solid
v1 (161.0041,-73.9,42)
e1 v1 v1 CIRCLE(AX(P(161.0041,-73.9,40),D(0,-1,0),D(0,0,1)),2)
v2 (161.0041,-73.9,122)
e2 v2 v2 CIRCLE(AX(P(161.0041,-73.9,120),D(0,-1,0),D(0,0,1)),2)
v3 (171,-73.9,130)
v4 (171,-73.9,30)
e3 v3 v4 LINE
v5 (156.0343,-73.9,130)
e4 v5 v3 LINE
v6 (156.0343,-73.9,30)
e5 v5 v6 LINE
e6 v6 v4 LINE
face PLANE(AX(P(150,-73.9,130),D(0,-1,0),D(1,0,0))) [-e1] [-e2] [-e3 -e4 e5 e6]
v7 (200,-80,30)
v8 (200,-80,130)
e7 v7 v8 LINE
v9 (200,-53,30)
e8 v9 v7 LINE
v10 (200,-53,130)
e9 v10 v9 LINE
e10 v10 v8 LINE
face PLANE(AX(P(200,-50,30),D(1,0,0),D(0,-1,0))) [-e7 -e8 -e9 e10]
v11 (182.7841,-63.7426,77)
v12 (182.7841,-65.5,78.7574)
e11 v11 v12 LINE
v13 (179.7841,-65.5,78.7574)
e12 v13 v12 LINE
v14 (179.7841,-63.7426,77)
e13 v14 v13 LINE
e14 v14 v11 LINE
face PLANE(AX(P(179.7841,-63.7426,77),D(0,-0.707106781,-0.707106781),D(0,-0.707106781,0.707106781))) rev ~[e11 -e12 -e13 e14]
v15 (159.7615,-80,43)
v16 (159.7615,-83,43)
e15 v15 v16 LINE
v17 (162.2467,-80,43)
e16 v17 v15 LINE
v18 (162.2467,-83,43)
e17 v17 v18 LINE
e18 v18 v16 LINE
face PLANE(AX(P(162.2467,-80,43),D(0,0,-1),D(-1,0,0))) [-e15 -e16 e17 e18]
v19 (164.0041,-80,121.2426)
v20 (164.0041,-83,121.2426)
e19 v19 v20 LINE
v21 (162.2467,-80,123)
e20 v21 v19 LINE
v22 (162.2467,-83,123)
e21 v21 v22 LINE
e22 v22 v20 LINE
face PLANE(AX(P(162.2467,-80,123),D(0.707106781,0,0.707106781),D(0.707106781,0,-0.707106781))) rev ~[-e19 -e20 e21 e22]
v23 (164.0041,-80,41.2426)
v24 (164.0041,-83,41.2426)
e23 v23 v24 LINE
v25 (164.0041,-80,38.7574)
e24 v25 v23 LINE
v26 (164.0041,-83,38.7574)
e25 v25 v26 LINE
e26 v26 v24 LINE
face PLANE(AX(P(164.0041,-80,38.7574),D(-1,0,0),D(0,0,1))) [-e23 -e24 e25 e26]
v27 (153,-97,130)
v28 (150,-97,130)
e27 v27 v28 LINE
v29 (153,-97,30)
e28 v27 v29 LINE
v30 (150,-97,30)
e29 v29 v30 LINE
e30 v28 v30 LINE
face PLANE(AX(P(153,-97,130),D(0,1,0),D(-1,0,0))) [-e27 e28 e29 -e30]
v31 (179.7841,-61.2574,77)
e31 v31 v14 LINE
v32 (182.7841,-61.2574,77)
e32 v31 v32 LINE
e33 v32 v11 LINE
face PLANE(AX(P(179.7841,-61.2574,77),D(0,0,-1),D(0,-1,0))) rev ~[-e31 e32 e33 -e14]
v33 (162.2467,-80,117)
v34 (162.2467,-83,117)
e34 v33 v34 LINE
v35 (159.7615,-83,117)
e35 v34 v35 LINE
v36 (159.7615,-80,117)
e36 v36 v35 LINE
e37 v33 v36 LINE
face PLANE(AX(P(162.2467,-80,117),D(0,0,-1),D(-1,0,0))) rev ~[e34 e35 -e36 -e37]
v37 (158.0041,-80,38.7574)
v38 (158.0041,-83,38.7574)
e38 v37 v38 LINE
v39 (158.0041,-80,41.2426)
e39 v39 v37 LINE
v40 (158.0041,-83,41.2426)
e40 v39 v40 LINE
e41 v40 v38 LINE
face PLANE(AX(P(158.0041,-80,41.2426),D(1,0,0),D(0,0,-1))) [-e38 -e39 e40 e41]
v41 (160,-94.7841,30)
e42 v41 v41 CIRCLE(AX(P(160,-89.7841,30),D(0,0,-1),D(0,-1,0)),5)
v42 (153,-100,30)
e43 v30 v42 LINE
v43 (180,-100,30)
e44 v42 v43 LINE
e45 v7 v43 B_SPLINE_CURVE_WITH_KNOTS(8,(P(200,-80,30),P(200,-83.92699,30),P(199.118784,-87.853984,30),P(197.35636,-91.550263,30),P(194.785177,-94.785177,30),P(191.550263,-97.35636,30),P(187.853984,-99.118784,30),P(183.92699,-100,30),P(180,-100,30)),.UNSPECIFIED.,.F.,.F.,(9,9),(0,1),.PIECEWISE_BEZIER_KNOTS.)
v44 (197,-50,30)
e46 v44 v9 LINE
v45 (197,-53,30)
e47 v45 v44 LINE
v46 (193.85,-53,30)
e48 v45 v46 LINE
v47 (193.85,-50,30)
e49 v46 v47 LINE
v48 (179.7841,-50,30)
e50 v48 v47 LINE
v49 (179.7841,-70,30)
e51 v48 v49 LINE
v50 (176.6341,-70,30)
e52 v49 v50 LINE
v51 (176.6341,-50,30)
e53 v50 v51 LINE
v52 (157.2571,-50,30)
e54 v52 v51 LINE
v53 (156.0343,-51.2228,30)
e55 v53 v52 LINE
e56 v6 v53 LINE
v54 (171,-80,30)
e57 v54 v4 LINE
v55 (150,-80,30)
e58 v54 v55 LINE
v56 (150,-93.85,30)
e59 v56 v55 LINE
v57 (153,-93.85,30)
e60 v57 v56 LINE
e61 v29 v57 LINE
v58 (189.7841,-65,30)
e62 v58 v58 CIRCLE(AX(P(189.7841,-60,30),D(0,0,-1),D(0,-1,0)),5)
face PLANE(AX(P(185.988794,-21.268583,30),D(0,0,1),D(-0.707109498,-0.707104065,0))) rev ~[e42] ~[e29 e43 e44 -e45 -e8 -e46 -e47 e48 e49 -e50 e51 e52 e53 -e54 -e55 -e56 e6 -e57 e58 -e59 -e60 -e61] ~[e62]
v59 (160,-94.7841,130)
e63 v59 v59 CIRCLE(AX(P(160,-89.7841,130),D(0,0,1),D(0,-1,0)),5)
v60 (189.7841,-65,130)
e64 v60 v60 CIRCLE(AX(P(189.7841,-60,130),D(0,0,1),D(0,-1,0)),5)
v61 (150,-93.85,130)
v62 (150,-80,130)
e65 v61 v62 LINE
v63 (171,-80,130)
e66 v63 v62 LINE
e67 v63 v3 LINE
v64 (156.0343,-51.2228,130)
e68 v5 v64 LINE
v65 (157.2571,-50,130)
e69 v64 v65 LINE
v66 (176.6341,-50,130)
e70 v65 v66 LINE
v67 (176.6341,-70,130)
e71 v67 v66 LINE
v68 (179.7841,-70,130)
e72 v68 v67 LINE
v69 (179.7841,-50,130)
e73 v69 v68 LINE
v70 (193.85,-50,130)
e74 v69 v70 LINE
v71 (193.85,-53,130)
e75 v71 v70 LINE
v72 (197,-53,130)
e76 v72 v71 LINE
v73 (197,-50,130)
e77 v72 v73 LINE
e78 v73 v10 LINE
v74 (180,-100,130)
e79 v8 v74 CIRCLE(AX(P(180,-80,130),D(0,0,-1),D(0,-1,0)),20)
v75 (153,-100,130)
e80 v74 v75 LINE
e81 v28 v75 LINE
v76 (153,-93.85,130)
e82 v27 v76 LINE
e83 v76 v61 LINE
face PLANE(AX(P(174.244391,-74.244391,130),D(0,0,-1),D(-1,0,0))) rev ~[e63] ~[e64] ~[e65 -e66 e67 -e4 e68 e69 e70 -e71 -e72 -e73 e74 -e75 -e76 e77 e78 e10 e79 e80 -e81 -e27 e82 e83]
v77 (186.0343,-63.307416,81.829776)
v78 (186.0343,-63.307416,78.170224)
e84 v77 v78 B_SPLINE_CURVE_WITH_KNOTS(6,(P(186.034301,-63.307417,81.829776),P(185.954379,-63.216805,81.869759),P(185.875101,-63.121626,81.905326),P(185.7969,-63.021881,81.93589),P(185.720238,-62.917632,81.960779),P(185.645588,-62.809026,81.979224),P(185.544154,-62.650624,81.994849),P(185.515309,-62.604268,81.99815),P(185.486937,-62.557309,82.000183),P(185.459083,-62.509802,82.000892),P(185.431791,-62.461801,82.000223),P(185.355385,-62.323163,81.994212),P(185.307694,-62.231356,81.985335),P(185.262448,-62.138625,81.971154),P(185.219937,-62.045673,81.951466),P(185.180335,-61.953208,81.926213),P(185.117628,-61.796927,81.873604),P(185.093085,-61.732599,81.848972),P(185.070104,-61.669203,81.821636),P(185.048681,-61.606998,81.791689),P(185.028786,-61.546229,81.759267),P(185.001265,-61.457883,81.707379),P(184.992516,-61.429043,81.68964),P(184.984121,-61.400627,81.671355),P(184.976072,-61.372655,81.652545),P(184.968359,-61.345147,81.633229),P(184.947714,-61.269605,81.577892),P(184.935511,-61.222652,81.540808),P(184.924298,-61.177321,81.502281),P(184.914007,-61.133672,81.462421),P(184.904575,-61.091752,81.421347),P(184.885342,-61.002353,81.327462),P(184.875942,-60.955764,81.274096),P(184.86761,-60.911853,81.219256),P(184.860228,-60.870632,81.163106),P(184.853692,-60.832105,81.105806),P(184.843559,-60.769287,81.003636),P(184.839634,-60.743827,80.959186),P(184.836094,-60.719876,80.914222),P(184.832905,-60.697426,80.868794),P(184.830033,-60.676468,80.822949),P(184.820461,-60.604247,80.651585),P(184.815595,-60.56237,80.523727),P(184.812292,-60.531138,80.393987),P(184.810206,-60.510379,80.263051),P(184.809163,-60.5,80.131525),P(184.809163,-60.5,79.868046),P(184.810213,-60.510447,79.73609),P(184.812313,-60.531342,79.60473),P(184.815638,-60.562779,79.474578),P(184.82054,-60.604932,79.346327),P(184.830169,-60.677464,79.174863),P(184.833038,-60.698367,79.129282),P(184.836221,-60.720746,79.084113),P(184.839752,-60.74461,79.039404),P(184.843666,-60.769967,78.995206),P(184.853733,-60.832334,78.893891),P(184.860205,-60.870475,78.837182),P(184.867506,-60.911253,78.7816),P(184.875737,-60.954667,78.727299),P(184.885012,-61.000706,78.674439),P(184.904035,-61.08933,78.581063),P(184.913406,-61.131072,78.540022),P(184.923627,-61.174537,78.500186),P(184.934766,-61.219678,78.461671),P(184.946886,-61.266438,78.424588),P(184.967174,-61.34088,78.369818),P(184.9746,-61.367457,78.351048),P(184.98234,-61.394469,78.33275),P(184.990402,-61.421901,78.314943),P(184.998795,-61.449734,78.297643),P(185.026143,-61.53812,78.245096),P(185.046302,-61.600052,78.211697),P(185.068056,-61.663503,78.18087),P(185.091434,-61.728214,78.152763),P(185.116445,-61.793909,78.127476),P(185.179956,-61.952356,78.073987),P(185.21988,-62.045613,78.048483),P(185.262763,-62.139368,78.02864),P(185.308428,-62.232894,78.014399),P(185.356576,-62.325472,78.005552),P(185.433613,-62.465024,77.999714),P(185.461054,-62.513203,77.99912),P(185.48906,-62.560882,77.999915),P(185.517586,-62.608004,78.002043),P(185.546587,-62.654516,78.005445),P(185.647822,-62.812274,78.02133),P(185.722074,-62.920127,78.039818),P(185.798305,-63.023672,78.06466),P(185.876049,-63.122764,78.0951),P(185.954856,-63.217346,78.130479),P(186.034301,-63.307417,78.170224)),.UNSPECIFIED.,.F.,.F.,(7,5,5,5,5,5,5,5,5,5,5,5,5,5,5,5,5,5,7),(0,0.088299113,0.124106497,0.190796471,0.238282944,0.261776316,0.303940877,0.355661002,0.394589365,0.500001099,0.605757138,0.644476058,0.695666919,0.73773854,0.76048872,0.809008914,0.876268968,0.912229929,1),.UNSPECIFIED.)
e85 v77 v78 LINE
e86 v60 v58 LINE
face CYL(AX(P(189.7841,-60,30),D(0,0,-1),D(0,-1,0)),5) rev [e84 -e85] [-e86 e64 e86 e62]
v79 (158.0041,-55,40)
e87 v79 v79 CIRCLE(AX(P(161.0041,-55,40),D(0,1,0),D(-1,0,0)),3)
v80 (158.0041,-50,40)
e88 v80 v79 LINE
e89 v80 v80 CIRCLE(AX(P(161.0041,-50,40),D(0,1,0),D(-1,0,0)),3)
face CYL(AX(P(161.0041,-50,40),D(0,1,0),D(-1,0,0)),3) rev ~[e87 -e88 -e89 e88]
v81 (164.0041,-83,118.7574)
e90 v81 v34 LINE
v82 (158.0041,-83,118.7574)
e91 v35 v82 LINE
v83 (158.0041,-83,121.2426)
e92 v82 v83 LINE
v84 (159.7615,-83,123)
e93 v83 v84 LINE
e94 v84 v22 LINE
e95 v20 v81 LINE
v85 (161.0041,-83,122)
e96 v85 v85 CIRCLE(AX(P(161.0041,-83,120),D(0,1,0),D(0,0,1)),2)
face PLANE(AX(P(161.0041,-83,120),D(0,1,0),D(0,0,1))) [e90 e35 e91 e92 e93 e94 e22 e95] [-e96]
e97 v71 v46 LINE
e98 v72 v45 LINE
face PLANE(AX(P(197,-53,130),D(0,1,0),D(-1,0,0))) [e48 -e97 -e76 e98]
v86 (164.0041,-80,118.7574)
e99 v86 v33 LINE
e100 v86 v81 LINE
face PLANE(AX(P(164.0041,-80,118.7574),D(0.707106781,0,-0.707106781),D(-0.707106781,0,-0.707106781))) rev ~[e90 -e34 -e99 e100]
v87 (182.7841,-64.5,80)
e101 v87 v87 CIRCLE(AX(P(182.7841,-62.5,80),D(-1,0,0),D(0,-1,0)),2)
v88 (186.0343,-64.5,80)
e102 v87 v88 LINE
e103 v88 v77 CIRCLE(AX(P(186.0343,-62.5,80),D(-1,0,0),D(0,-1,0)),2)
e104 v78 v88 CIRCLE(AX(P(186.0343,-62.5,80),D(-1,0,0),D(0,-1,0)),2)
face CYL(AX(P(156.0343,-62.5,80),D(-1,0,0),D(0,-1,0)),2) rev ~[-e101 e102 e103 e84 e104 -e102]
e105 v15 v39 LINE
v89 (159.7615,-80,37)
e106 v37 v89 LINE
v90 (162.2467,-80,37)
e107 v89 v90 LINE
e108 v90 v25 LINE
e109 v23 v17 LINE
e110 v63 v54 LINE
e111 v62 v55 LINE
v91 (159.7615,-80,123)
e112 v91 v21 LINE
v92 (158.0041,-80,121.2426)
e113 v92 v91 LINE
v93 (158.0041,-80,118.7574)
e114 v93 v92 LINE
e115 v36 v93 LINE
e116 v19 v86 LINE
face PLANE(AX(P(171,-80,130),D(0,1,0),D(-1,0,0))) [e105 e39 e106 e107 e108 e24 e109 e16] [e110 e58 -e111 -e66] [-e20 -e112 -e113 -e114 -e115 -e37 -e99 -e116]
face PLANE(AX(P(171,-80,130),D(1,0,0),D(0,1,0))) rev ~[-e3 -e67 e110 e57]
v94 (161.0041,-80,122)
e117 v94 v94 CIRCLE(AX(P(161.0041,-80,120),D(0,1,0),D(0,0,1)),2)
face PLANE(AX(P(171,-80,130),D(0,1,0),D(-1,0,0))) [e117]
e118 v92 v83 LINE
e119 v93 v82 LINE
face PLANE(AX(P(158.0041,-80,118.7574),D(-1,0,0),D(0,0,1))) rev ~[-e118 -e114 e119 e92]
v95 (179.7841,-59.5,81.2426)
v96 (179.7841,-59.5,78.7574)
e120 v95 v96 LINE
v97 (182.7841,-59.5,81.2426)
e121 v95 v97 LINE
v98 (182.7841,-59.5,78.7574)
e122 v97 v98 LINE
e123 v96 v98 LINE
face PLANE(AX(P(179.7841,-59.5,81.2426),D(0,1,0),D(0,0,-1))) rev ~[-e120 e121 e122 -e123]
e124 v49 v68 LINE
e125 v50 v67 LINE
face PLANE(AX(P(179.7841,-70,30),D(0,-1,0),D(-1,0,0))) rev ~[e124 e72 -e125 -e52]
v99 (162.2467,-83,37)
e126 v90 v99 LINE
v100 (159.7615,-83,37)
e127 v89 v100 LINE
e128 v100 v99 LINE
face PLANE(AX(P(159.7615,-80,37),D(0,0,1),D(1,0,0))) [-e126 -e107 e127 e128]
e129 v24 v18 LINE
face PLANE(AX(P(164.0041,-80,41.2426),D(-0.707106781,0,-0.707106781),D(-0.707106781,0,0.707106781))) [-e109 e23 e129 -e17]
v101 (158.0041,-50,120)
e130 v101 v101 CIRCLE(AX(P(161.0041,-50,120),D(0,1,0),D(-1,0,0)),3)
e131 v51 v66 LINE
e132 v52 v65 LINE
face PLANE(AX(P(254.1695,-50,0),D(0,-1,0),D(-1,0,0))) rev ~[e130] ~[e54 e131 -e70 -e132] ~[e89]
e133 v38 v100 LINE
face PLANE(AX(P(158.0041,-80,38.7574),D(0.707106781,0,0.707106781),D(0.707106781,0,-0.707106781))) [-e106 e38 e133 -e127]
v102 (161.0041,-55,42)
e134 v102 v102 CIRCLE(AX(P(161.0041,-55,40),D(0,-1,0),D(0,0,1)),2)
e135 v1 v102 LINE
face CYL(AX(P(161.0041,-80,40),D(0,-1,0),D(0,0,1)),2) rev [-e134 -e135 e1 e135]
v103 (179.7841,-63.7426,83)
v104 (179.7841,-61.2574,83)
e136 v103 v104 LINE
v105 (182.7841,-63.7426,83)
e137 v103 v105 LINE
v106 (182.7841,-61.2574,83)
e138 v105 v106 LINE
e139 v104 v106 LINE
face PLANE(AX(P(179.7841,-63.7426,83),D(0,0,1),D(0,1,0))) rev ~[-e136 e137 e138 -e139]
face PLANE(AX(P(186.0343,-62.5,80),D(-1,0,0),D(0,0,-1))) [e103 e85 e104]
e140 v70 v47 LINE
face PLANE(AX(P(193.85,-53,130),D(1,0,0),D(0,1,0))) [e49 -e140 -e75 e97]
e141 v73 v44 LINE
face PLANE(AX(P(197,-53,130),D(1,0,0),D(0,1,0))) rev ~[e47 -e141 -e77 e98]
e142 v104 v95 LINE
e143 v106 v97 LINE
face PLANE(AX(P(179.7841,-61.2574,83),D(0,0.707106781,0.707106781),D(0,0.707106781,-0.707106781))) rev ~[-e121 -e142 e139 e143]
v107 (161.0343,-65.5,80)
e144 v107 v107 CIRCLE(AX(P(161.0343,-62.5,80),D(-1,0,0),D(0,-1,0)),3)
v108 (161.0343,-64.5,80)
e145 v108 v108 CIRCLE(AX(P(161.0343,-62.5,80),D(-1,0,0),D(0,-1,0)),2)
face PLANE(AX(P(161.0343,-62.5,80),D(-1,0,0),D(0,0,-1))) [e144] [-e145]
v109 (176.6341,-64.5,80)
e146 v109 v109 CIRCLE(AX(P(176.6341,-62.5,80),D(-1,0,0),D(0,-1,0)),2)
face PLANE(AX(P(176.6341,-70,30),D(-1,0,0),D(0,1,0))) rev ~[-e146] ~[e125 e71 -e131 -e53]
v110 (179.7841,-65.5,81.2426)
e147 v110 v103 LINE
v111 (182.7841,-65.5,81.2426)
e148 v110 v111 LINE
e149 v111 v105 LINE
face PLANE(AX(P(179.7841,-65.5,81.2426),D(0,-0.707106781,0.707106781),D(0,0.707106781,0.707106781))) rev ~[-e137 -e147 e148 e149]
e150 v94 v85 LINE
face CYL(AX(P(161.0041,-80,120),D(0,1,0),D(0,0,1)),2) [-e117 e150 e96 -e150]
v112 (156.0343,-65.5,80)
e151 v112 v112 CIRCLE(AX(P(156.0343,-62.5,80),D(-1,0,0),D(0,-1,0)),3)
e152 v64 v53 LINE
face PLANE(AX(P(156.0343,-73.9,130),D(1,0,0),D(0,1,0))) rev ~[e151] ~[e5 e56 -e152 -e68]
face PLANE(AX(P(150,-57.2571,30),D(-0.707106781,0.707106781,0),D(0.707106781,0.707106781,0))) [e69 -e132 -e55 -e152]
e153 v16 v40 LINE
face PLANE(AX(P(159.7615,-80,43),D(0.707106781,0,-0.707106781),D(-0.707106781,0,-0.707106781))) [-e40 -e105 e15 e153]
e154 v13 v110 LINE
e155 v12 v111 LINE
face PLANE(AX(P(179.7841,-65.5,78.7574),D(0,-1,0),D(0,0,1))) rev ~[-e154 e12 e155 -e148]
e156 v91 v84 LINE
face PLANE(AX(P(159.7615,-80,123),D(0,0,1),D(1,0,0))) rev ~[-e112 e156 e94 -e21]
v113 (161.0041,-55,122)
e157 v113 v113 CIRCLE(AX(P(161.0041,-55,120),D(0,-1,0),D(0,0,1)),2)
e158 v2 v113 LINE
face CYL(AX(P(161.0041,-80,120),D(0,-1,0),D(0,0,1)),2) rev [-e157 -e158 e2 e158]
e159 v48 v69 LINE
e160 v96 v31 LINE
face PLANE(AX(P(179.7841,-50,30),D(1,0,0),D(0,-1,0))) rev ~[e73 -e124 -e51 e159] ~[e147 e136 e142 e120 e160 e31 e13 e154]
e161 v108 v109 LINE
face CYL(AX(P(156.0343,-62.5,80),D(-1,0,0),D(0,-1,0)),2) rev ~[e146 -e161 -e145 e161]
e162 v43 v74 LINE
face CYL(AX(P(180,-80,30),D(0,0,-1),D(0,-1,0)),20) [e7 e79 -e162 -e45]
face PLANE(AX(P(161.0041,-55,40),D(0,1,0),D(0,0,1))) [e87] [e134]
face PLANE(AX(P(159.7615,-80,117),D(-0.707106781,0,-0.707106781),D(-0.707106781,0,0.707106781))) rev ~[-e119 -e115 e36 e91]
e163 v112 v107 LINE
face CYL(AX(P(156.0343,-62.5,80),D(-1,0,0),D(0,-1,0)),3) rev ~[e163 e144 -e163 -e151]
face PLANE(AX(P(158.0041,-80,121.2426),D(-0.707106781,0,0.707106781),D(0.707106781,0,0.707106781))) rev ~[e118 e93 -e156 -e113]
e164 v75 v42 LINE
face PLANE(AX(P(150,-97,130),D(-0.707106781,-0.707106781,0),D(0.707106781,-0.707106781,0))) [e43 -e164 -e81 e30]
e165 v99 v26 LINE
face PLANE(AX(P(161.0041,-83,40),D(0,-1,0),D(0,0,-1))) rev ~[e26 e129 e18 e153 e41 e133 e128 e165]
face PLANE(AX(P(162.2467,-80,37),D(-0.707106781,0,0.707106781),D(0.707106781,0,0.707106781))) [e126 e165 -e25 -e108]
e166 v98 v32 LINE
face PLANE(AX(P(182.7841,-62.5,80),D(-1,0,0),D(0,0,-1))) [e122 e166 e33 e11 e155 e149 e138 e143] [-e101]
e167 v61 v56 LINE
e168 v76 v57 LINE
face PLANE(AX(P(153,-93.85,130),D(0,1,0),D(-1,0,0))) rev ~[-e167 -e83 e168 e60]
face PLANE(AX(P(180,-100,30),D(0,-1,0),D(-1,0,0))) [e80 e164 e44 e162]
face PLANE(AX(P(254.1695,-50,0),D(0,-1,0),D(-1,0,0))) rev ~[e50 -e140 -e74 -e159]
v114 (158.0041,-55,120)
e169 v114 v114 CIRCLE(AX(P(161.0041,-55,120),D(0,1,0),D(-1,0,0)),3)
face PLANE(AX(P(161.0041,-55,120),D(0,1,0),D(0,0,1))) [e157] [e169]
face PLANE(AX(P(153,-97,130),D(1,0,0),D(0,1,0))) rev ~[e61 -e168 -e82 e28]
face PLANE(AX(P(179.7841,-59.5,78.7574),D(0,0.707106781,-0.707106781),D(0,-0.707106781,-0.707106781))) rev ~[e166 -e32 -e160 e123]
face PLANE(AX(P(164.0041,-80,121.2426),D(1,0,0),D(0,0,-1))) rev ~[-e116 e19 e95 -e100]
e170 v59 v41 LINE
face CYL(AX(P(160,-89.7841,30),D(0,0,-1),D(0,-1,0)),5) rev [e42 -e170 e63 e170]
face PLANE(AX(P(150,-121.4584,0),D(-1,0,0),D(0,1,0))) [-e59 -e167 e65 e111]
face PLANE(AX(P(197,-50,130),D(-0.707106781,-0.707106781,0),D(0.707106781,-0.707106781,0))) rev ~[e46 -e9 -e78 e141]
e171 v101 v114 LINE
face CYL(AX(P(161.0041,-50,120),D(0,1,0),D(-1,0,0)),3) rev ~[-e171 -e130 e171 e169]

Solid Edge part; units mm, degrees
sketch "Sketch1" plane through (0, 0, 0) normal (0, 0, -1) x (-1, 0, 0)
  line L0 (-200, -100) -> (200, -100)
  line L1 (200, -100) -> (200, 100)
  line L2 (200, 100) -> (-200, 100)
  line L3 (-200, 100) -> (-200, -100)
  dimension "D1" = 400
  dimension "D2" = 200
extrude "Protrusion1" add sketch "Sketch1" against normal blind 250
sketch "Sketch2" plane through (0, 0, 0) normal (0, 0, -1) x (-1, 0, 0)
  circle A0 centre (100, 0) radius 50
  dimension "D1" = 160
  dimension "D2" = 100
  dimension "D3" = 100
  dimension "D4" = 100
  dimension "D5" = 200
extrude "Cutout1" cut sketch "Sketch2" against normal blind 3
fillet "Round_8" radius 20 4 edges at (200, -100, 125) (200, 100, 125) (-200, 100, 125) (-200, -100, 125)
fillet "Round_9" radius 30 8 edges at (0, -100, 0) (-194.1421, -94.1421, 0) (-200, 0, 0) (-194.1421, 94.1421, 0) (0, 100, 0) (194.1421, 94.1421, 0) (200, 0, 0) (194.1421, -94.1421, 0)
sketch "Sketch3" plane through (200, 0, 140) normal (1, 0, 0) x (0, -1, 0)
  line L0 (70, 57.1371) -> (-70, 57.1371)
  line L1 (-70, 57.1371) -> (-70, 97.1371)
  line L2 (-70, 97.1371) -> (70, 97.1371)
  line L3 (70, 97.1371) -> (70, 57.1371)
  dimension "D1" = 160
  dimension "D2" = 140
  dimension "D3" = 40
  dimension "D4" = 10
  dimension "D5" = 160
extrude "ExtrudedCutout_37" cut sketch "Sketch3" against normal blind 30
sketch "Sketch4" plane through (185, 0, 82.8629) normal (0, 0, -1) x (0, -1, 0)
  line L0 (-70, 15) -> (70, 15)
  line L1 (70, 15) -> (70, 10)
  line L2 (70, 10) -> (-70, 10)
  line L3 (-70, 10) -> (-70, 15)
  dimension "D1" = 140
  dimension "D2" = 5
extrude "Cutout2" cut sketch "Sketch4" against normal blind 5
sketch "Sketch5" plane through (185, 0, 42.8629) normal (0, 0, 1) x (0, -1, 0)
  line L0 (-70, -10) -> (70, -10)
  line L1 (70, -10) -> (70, -15)
  line L2 (70, -15) -> (-70, -15)
  line L3 (-70, -15) -> (-70, -10)
  dimension "D1" = 140
  dimension "D2" = 5
extrude "ExtrudedCutout_39" cut sketch "Sketch5" against normal blind 5
sketch "Sketch6" plane through (185, 70, 62.8629) normal (0, -1, 0) x (1, 0, 0)
  line L0 (-15, 25) -> (-10, 25)
  line L1 (-10, 25) -> (-10, -25)
  line L2 (-10, -25) -> (-15, -25)
  line L3 (-15, -25) -> (-15, 25)
  dimension "D1" = 5
  dimension "D2" = 50
extrude "Cutout3" cut sketch "Sketch6" against normal blind 5
sketch "Sketch7" plane through (185, -70, 62.8629) normal (0, 1, 0) x (1, 0, 0)
  line L0 (-15, 25) -> (-10, 25)
  line L1 (-10, 25) -> (-10, -25)
  line L2 (-10, -25) -> (-15, -25)
  line L3 (-15, -25) -> (-15, 25)
  dimension "D1" = 5
  dimension "D2" = 50
extrude "Cutout4" cut sketch "Sketch7" against normal blind 5
sketch "Sketch8" plane through (170, 0, 62.8629) normal (1, 0, 0) x (0, -1, 0)
  line L0 (-75, 25) -> (75, 25)
  line L1 (75, 25) -> (75, -25)
  line L2 (75, -25) -> (-75, -25)
  line L3 (-75, -25) -> (-75, 25)
  line L4 (72, 22.1284) -> (-72, 22.1284)
  line L5 (-72, 22.1284) -> (-72, -21.8716)
  line L6 (-72, -21.8716) -> (72, -21.8716)
  line L7 (72, -21.8716) -> (72, 22.1284)
  dimension "D1" = 150
  dimension "D2" = 50
  dimension "D3" = 144
  dimension "D4" = 44
  dimension "D5" = 3
  dimension "D6" = 150
extrude "ExtrudedCutout_42" cut sketch "Sketch8" along normal mid plane 10
sketch "Sketch9" plane through (200, 0, 140) normal (1, 0, 0) x (0, -1, 0)
  circle A0 centre (0, -30) radius 68.3204
  dimension "D1" = 136.6408
  dimension "D2" = 80
extrude "Cutout5" cut sketch "Sketch9" against normal blind 6
sketch "Sketch10" plane through (0, 0, 250) normal (0, 0, 1) x (-1, 0, 0)
  line L0 (-180, 100) -> (180, 100)
  line L1 (180, 100) -> (180, 97)
  line L2 (180, 97) -> (-180, 97)
  line L3 (-180, 97) -> (-180, 100)
  line L4 (200, 80) -> (197, 80)
  line L5 (197, 80) -> (197, -80)
  line L6 (197, -80) -> (200, -80)
  line L7 (200, -80) -> (200, 80)
  line L8 (-200, 80) -> (-197, 80)
  line L9 (-197, 80) -> (-197, -80)
  line L10 (-197, -80) -> (-200, -80)
  line L11 (-200, -80) -> (-200, 80)
  line L12 (-180, -100) -> (180, -100)
  line L13 (180, -100) -> (180, -97)
  line L14 (180, -97) -> (-180, -97)
  line L15 (-180, -97) -> (-180, -100)
  dimension "D1" = 360
  dimension "D2" = 3
  dimension "D3" = 3
  dimension "D4" = 160
extrude "Cutout6" cut sketch "Sketch10" against normal blind 220
sketch "Sketch11" plane through (165, -97, 140) normal (0, -1, 0) x (0, 0, 1)
  line L0 (-110, 23.978) -> (116.0147, 23.978)
  line L1 (116.0147, 23.978) -> (116.0147, -38.9945)
  line L2 (116.0147, -38.9945) -> (-110, -38.9945)
  line L3 (-110, -38.9945) -> (-110, 23.978)
  dimension "D1" = 226.0147
  dimension "D2" = 62.9725
extrude "ExtrudedCutout_47" cut sketch "Sketch11" along normal mid plane 474
sketch "Sketch12" plane through (0, 0, 0) normal (0, 0, -1) x (-1, 0, 0)
  line L0 (-150, -121.4584) -> (-150, -50)
  line L1 (-254.1695, -50) -> (-150, -50)
  line L2 (-254.1695, -50) -> (-254.1695, 113.1592)
  line L3 (-254.1695, 113.1592) -> (264.7141, 113.1592)
  line L4 (264.7141, 113.1592) -> (271.856, -149.5027)
  line L5 (271.856, -149.5027) -> (-150, -121.4584)
  dimension "D1" = 104.1695
  dimension "D2" = 350
  dimension "D3" = 150
  dimension "D4" = 163.1592
  dimension "D5" = 518.8836
  dimension "D6" = 262.759
  dimension "D7" = 422.7871
extrude "ExtrudedCutout_46" cut sketch "Sketch12" against normal blind 317
sketch "Sketch13" plane through (175, -75, 30) normal (0, 0, 1) x (0, 1, 0)
  line L0 (17.7429, 25) -> (30.7571, 11.9857)
  line L1 (29.3143, 29.7) -> (30.7571, 11.9857)
  line L2 (17.7429, 25) -> (29.3143, 29.7)
  dimension "D1" = 18.405
  dimension "D2" = 12.4895
  dimension "D3" = 17.773
extrude "Cutout7" cut sketch "Sketch13" against normal blind 15
sketch "Sketch14" plane through (153.6286, -53.6286, 22.5) normal (-0.7071, 0.7071, 0) x (0.7071, 0.7071, 0)
  line L0 (-5.1316, -2.5) -> (5.1316, -2.5)
  line L1 (5.1316, 2.97) -> (5.1316, -2.5)
  line L2 (-5.1316, 2.97) -> (5.1316, 2.97)
  line L3 (-5.1316, 2.97) -> (-5.1316, -2.5)
  dimension "D1" = 10.2631
  dimension "D2" = 5
  dimension "D3" = 10.2631
  dimension "D4" = 5.47
  dimension "D5" = 5.47
extrude "ExtrudedCutout_49" cut sketch "Sketch14" against normal blind 46
sketch "Sketch15" plane through (175, -75, 30) normal (0, 0, 1) x (0, -1, 0)
  circle A0 centre (-17.7429, -17.7429) radius 1.5
  dimension "D1" = 3
extrude "ExtrudedCutout_50" cut sketch "Sketch15" against normal blind 9
sketch "Sketch16" plane through (175, -75, 30) normal (0, 0, 1) x (0, -1, 0)
  line L0 (5, -20) -> (-3, -20)
  line L1 (-3, -20) -> (-3, -15)
  line L2 (5, -15) -> (-3, -15)
  line L3 (5, -20) -> (5, -15)
  line L4 (-20, 5) -> (-20, -3)
  line L5 (-20, -3) -> (-15, -3)
  line L6 (-15, 5) -> (-15, -3)
  line L7 (-20, 5) -> (-15, 5)
  dimension "D1" = 8
  dimension "D2" = 5
  dimension "D3" = 5
  dimension "D4" = 20
  dimension "D5" = 20
  dimension "D6" = 8
  dimension "D7" = 5
extrude "Cutout8" cut sketch "Sketch16" against normal blind 10
sketch "Sketch17" plane through (175, -50, 15) normal (0, 1, 0) x (0, 0, 1)
  circle A0 centre (10, 1) radius 1.5
extrude "Cutout9" cut sketch "Sketch17" against normal blind 8
sketch "Sketch18" plane through (150, -75, 15) normal (-1, 0, 0) x (0, -1, 0)
  circle A0 centre (1.0029, 10) radius 1.5
extrude "Cutout10" cut sketch "Sketch18" against normal blind 9
sketch "Sketch19" plane through (150, -75, 15) normal (-1, 0, 0) x (0, -1, 0)
  circle A0 centre (-17, -7) radius 5
  circle A1 centre (14.7841, 4.53) radius 5
extrude "Cutout11" cut sketch "Sketch19" against normal blind 2
sketch "Sketch20" plane through (175, -50, 15) normal (0, 1, 0) x (-1, 0, 0)
  circle A0 centre (17, -7) radius 5
  circle A1 centre (-14.7841, 4.53) radius 5
extrude "Cutout12" cut sketch "Sketch20" against normal blind 2
fillet "Round_16" radius 5 1 edges at (153.6286, -53.6286, 15)
sketch "Sketch21" plane through (175, -75, 30) normal (0, 0, 1) x (0, -1, 0)
  circle A0 centre (-15, 14.7841) radius 5
  circle A1 centre (14.7841, -15) radius 5
extrude "ExtrudedCutout_56" cut sketch "Sketch21" against normal blind 3
sketch "Sketch22" plane through (169.892, -69.892, 19.53) normal (0, 0, 1) x (0.7071, -0.7071, 0)
  line L0 (23, 5.1316) -> (-12.8442, 5.1316)
  line L1 (-12.8442, 5.1316) -> (-12.8442, -5.1316)
  line L2 (-12.8442, -5.1316) -> (23, -5.1316)
  line L3 (23, -5.1316) -> (23, 5.1316)
  dimension "D1" = 35.8442
  dimension "D2" = 10.2631
extrude "ExtrudedProtrusion_20" add sketch "Sketch22" along normal blind 6
sketch "Sketch23" plane through (175, -75, 30) normal (0, 0, 1) x (0, -1, 0)
  arc A0 (5, 25) -> (25, 5) centre (5, 5) cw
  line L0 (25, 5) -> (25, -25)
  line L1 (25, -25) -> (-17.7429, -25)
  line L2 (-17.7429, -25) -> (-25, -17.7429)
  line L3 (-25, -17.7429) -> (-25, 25)
  line L4 (-25, 25) -> (5, 25)
  circle A1 centre (-15, 14.7841) radius 5
  circle A2 centre (14.7841, -15) radius 5
extrude "Protrusion2" add sketch "Sketch23" along normal blind 100
sketch "Sketch24" plane through (153.6286, -53.6286, 77.5) normal (-0.7071, 0.7071, 0) x (0, 0, 1)
  line L0 (-47.5, -40.0408) -> (-85.2138, -40.0408)
  line L1 (-85.2138, -40.0408) -> (-85.2138, 45.7641)
  line L2 (-85.2138, 45.7641) -> (-47.5, 45.7641)
  line L3 (-47.5, 45.7641) -> (-47.5, -40.0408)
  dimension "D1" = 37.7138
  dimension "D2" = 85.805
extrude "ExtrudedCutout_57" cut sketch "Sketch24" along normal mid plane 148
sketch "Sketch25" plane through (175, -75, 130) normal (0, 0, 1) x (0, -1, 0)
  line L0 (-22, 22) -> (-22, 18.85)
  line L1 (-22, 18.85) -> (-25, 18.85)
  line L2 (-29.2429, 28.0796) -> (-25, 18.85)
  line L3 (-22, 28.0796) -> (-29.2429, 28.0796)
  line L4 (-22, 25) -> (-22, 28.0796)
  line L5 (-25, 22) -> (-22, 25)
  line L6 (-22, 22) -> (-25, 22)
  line L7 (22, -22) -> (18.85, -22)
  line L8 (18.85, -22) -> (18.85, -25)
  line L9 (28.0796, -29.2429) -> (18.85, -25)
  line L10 (28.0796, -22) -> (28.0796, -29.2429)
  line L11 (25, -22) -> (28.0796, -22)
  line L12 (22, -25) -> (25, -22)
  line L13 (22, -22) -> (22, -25)
  dimension "D1" = 3.15
  dimension "D2" = 3
  dimension "D3" = 3
  dimension "D4" = 3
  dimension "D5" = 3
  dimension "D6" = 4.2426
  dimension "D7" = 3.0796
  dimension "D8" = 7.2429
extrude "Cutout13" cut sketch "Sketch25" against normal blind 148
sketch "Sketch26" plane through (175, -75, 130) normal (0, 0, 1) x (0, -1, 0)
  line L0 (5, -4) -> (5, -25)
  line L1 (5, -25) -> (-1.1, -25)
  line L2 (-1.1, -25) -> (-1.1, -4)
  line L3 (5, -4) -> (-1.1, -4)
  dimension "D1" = 21
  dimension "D2" = 20
  dimension "D3" = 6.1
  dimension "D4" = 21
extrude "ExtrudedCutout_60" cut sketch "Sketch26" against normal blind 186
sketch "Sketch27" plane through (160, -80, 80) normal (0, 1, 0) x (0, 0, 1)
  line L0 (-38.7574, -1.9959) -> (-41.2426, -1.9959)
  line L1 (-41.2426, -1.9959) -> (-43, -0.2385)
  line L2 (-43, -0.2385) -> (-43, 2.2467)
  line L3 (-43, 2.2467) -> (-41.2426, 4.0041)
  line L4 (-41.2426, 4.0041) -> (-38.7574, 4.0041)
  line L5 (-38.7574, 4.0041) -> (-37, 2.2467)
  line L6 (-37, 2.2467) -> (-37, -0.2385)
  line L7 (-37, -0.2385) -> (-38.7574, -1.9959)
  line L8 (38.7574, -1.9959) -> (41.2426, -1.9959)
  line L9 (41.2426, -1.9959) -> (43, -0.2385)
  line L10 (43, -0.2385) -> (43, 2.2467)
  line L11 (43, 2.2467) -> (41.2426, 4.0041)
  line L12 (41.2426, 4.0041) -> (38.7574, 4.0041)
  line L13 (38.7574, 4.0041) -> (37, 2.2467)
  line L14 (37, 2.2467) -> (37, -0.2385)
  line L15 (37, -0.2385) -> (38.7574, -1.9959)
  circle A0 centre (40, 1.0041) radius 2
extrude "Cutout14" cut sketch "Sketch27" against normal blind 3
sketch "Sketch28" plane through (160, -80, 80) normal (0, 1, 0) x (0, 0, 1)
  circle A0 centre (-40, 1.0041) radius 2
  circle A1 centre (40, 1.0041) radius 2
extrude "ExtrudedCutout_62" cut sketch "Sketch28" along normal blind 43
sketch "Sketch29" plane through (177.0686, -50, 80) normal (0, 1, 0) x (-1, 0, 0)
  circle A0 centre (16.0645, 40) radius 3
  circle A1 centre (16.0645, -40) radius 3
  dimension "D1" = 6
  dimension "D2" = 6
  dimension "D3" = 77
extrude "Cutout15" cut sketch "Sketch29" against normal blind 5
sketch "Sketch30" plane through (175, -75, 130) normal (0, 0, 1) x (0, -1, 0)
  line L0 (-1.1, -18.9657) -> (-27.9226, -18.9657)
  line L1 (-27.9226, -18.9657) -> (-17.7429, -25)
  line L2 (-17.7429, -25) -> (-1.1, -25)
  line L3 (-1.1, -25) -> (-1.1, -18.9657)
  dimension "D1" = 26.8226
  dimension "D2" = 11.8338
extrude "Cutout16" cut sketch "Sketch30" against normal blind 148
sketch "Sketch31" plane through (175, -75, 30) normal (0, 0, -1) x (0, 1, 0)
  line L0 (25, 4.7841) -> (5, 4.7841)
  line L1 (5, 4.7841) -> (5, 1.6341)
  line L2 (5, 1.6341) -> (25, 1.6341)
  line L3 (25, 1.6341) -> (25, 4.7841)
  dimension "D1" = 20
  dimension "D2" = 3.15
  dimension "D3" = 10
extrude "Cutout17" cut sketch "Sketch31" against normal blind 246
sketch "Sketch32" plane through (156.0343, -62.5614, 80) normal (-1, 0, 0) x (0, -1, 0)
  circle A0 centre (-0.0614, 0) radius 2
  dimension "D1" = 5
  dimension "D2" = 4
extrude "Cutout18" cut sketch "Sketch32" against normal blind 30
sketch "Sketch33" plane through (156.0343, -62.5614, 80) normal (-1, 0, 0) x (0, -1, 0)
  circle A0 centre (-0.0614, 0) radius 3
  dimension "D1" = 6
extrude "Cutout19" cut sketch "Sketch33" against normal blind 5
sketch "Sketch34" plane through (179.7841, -60, 80) normal (-1, 0, 0) x (0, 0, 1)
  line L0 (3, -3.7426) -> (3, -1.2574)
  line L1 (3, -1.2574) -> (1.2426, 0.5)
  line L2 (1.2426, 0.5) -> (-1.2426, 0.5)
  line L3 (-1.2426, 0.5) -> (-3, -1.2574)
  line L4 (-3, -1.2574) -> (-3, -3.7426)
  line L5 (-3, -3.7426) -> (-1.2426, -5.5)
  line L6 (-1.2426, -5.5) -> (1.2426, -5.5)
  line L7 (1.2426, -5.5) -> (3, -3.7426)
  dimension "D1" = 2.4853
  dimension "D2" = 2.4853
  dimension "D3" = 2.4853
  dimension "D4" = 2.4853
extrude "Cutout20" cut sketch "Sketch34" against normal blind 3
